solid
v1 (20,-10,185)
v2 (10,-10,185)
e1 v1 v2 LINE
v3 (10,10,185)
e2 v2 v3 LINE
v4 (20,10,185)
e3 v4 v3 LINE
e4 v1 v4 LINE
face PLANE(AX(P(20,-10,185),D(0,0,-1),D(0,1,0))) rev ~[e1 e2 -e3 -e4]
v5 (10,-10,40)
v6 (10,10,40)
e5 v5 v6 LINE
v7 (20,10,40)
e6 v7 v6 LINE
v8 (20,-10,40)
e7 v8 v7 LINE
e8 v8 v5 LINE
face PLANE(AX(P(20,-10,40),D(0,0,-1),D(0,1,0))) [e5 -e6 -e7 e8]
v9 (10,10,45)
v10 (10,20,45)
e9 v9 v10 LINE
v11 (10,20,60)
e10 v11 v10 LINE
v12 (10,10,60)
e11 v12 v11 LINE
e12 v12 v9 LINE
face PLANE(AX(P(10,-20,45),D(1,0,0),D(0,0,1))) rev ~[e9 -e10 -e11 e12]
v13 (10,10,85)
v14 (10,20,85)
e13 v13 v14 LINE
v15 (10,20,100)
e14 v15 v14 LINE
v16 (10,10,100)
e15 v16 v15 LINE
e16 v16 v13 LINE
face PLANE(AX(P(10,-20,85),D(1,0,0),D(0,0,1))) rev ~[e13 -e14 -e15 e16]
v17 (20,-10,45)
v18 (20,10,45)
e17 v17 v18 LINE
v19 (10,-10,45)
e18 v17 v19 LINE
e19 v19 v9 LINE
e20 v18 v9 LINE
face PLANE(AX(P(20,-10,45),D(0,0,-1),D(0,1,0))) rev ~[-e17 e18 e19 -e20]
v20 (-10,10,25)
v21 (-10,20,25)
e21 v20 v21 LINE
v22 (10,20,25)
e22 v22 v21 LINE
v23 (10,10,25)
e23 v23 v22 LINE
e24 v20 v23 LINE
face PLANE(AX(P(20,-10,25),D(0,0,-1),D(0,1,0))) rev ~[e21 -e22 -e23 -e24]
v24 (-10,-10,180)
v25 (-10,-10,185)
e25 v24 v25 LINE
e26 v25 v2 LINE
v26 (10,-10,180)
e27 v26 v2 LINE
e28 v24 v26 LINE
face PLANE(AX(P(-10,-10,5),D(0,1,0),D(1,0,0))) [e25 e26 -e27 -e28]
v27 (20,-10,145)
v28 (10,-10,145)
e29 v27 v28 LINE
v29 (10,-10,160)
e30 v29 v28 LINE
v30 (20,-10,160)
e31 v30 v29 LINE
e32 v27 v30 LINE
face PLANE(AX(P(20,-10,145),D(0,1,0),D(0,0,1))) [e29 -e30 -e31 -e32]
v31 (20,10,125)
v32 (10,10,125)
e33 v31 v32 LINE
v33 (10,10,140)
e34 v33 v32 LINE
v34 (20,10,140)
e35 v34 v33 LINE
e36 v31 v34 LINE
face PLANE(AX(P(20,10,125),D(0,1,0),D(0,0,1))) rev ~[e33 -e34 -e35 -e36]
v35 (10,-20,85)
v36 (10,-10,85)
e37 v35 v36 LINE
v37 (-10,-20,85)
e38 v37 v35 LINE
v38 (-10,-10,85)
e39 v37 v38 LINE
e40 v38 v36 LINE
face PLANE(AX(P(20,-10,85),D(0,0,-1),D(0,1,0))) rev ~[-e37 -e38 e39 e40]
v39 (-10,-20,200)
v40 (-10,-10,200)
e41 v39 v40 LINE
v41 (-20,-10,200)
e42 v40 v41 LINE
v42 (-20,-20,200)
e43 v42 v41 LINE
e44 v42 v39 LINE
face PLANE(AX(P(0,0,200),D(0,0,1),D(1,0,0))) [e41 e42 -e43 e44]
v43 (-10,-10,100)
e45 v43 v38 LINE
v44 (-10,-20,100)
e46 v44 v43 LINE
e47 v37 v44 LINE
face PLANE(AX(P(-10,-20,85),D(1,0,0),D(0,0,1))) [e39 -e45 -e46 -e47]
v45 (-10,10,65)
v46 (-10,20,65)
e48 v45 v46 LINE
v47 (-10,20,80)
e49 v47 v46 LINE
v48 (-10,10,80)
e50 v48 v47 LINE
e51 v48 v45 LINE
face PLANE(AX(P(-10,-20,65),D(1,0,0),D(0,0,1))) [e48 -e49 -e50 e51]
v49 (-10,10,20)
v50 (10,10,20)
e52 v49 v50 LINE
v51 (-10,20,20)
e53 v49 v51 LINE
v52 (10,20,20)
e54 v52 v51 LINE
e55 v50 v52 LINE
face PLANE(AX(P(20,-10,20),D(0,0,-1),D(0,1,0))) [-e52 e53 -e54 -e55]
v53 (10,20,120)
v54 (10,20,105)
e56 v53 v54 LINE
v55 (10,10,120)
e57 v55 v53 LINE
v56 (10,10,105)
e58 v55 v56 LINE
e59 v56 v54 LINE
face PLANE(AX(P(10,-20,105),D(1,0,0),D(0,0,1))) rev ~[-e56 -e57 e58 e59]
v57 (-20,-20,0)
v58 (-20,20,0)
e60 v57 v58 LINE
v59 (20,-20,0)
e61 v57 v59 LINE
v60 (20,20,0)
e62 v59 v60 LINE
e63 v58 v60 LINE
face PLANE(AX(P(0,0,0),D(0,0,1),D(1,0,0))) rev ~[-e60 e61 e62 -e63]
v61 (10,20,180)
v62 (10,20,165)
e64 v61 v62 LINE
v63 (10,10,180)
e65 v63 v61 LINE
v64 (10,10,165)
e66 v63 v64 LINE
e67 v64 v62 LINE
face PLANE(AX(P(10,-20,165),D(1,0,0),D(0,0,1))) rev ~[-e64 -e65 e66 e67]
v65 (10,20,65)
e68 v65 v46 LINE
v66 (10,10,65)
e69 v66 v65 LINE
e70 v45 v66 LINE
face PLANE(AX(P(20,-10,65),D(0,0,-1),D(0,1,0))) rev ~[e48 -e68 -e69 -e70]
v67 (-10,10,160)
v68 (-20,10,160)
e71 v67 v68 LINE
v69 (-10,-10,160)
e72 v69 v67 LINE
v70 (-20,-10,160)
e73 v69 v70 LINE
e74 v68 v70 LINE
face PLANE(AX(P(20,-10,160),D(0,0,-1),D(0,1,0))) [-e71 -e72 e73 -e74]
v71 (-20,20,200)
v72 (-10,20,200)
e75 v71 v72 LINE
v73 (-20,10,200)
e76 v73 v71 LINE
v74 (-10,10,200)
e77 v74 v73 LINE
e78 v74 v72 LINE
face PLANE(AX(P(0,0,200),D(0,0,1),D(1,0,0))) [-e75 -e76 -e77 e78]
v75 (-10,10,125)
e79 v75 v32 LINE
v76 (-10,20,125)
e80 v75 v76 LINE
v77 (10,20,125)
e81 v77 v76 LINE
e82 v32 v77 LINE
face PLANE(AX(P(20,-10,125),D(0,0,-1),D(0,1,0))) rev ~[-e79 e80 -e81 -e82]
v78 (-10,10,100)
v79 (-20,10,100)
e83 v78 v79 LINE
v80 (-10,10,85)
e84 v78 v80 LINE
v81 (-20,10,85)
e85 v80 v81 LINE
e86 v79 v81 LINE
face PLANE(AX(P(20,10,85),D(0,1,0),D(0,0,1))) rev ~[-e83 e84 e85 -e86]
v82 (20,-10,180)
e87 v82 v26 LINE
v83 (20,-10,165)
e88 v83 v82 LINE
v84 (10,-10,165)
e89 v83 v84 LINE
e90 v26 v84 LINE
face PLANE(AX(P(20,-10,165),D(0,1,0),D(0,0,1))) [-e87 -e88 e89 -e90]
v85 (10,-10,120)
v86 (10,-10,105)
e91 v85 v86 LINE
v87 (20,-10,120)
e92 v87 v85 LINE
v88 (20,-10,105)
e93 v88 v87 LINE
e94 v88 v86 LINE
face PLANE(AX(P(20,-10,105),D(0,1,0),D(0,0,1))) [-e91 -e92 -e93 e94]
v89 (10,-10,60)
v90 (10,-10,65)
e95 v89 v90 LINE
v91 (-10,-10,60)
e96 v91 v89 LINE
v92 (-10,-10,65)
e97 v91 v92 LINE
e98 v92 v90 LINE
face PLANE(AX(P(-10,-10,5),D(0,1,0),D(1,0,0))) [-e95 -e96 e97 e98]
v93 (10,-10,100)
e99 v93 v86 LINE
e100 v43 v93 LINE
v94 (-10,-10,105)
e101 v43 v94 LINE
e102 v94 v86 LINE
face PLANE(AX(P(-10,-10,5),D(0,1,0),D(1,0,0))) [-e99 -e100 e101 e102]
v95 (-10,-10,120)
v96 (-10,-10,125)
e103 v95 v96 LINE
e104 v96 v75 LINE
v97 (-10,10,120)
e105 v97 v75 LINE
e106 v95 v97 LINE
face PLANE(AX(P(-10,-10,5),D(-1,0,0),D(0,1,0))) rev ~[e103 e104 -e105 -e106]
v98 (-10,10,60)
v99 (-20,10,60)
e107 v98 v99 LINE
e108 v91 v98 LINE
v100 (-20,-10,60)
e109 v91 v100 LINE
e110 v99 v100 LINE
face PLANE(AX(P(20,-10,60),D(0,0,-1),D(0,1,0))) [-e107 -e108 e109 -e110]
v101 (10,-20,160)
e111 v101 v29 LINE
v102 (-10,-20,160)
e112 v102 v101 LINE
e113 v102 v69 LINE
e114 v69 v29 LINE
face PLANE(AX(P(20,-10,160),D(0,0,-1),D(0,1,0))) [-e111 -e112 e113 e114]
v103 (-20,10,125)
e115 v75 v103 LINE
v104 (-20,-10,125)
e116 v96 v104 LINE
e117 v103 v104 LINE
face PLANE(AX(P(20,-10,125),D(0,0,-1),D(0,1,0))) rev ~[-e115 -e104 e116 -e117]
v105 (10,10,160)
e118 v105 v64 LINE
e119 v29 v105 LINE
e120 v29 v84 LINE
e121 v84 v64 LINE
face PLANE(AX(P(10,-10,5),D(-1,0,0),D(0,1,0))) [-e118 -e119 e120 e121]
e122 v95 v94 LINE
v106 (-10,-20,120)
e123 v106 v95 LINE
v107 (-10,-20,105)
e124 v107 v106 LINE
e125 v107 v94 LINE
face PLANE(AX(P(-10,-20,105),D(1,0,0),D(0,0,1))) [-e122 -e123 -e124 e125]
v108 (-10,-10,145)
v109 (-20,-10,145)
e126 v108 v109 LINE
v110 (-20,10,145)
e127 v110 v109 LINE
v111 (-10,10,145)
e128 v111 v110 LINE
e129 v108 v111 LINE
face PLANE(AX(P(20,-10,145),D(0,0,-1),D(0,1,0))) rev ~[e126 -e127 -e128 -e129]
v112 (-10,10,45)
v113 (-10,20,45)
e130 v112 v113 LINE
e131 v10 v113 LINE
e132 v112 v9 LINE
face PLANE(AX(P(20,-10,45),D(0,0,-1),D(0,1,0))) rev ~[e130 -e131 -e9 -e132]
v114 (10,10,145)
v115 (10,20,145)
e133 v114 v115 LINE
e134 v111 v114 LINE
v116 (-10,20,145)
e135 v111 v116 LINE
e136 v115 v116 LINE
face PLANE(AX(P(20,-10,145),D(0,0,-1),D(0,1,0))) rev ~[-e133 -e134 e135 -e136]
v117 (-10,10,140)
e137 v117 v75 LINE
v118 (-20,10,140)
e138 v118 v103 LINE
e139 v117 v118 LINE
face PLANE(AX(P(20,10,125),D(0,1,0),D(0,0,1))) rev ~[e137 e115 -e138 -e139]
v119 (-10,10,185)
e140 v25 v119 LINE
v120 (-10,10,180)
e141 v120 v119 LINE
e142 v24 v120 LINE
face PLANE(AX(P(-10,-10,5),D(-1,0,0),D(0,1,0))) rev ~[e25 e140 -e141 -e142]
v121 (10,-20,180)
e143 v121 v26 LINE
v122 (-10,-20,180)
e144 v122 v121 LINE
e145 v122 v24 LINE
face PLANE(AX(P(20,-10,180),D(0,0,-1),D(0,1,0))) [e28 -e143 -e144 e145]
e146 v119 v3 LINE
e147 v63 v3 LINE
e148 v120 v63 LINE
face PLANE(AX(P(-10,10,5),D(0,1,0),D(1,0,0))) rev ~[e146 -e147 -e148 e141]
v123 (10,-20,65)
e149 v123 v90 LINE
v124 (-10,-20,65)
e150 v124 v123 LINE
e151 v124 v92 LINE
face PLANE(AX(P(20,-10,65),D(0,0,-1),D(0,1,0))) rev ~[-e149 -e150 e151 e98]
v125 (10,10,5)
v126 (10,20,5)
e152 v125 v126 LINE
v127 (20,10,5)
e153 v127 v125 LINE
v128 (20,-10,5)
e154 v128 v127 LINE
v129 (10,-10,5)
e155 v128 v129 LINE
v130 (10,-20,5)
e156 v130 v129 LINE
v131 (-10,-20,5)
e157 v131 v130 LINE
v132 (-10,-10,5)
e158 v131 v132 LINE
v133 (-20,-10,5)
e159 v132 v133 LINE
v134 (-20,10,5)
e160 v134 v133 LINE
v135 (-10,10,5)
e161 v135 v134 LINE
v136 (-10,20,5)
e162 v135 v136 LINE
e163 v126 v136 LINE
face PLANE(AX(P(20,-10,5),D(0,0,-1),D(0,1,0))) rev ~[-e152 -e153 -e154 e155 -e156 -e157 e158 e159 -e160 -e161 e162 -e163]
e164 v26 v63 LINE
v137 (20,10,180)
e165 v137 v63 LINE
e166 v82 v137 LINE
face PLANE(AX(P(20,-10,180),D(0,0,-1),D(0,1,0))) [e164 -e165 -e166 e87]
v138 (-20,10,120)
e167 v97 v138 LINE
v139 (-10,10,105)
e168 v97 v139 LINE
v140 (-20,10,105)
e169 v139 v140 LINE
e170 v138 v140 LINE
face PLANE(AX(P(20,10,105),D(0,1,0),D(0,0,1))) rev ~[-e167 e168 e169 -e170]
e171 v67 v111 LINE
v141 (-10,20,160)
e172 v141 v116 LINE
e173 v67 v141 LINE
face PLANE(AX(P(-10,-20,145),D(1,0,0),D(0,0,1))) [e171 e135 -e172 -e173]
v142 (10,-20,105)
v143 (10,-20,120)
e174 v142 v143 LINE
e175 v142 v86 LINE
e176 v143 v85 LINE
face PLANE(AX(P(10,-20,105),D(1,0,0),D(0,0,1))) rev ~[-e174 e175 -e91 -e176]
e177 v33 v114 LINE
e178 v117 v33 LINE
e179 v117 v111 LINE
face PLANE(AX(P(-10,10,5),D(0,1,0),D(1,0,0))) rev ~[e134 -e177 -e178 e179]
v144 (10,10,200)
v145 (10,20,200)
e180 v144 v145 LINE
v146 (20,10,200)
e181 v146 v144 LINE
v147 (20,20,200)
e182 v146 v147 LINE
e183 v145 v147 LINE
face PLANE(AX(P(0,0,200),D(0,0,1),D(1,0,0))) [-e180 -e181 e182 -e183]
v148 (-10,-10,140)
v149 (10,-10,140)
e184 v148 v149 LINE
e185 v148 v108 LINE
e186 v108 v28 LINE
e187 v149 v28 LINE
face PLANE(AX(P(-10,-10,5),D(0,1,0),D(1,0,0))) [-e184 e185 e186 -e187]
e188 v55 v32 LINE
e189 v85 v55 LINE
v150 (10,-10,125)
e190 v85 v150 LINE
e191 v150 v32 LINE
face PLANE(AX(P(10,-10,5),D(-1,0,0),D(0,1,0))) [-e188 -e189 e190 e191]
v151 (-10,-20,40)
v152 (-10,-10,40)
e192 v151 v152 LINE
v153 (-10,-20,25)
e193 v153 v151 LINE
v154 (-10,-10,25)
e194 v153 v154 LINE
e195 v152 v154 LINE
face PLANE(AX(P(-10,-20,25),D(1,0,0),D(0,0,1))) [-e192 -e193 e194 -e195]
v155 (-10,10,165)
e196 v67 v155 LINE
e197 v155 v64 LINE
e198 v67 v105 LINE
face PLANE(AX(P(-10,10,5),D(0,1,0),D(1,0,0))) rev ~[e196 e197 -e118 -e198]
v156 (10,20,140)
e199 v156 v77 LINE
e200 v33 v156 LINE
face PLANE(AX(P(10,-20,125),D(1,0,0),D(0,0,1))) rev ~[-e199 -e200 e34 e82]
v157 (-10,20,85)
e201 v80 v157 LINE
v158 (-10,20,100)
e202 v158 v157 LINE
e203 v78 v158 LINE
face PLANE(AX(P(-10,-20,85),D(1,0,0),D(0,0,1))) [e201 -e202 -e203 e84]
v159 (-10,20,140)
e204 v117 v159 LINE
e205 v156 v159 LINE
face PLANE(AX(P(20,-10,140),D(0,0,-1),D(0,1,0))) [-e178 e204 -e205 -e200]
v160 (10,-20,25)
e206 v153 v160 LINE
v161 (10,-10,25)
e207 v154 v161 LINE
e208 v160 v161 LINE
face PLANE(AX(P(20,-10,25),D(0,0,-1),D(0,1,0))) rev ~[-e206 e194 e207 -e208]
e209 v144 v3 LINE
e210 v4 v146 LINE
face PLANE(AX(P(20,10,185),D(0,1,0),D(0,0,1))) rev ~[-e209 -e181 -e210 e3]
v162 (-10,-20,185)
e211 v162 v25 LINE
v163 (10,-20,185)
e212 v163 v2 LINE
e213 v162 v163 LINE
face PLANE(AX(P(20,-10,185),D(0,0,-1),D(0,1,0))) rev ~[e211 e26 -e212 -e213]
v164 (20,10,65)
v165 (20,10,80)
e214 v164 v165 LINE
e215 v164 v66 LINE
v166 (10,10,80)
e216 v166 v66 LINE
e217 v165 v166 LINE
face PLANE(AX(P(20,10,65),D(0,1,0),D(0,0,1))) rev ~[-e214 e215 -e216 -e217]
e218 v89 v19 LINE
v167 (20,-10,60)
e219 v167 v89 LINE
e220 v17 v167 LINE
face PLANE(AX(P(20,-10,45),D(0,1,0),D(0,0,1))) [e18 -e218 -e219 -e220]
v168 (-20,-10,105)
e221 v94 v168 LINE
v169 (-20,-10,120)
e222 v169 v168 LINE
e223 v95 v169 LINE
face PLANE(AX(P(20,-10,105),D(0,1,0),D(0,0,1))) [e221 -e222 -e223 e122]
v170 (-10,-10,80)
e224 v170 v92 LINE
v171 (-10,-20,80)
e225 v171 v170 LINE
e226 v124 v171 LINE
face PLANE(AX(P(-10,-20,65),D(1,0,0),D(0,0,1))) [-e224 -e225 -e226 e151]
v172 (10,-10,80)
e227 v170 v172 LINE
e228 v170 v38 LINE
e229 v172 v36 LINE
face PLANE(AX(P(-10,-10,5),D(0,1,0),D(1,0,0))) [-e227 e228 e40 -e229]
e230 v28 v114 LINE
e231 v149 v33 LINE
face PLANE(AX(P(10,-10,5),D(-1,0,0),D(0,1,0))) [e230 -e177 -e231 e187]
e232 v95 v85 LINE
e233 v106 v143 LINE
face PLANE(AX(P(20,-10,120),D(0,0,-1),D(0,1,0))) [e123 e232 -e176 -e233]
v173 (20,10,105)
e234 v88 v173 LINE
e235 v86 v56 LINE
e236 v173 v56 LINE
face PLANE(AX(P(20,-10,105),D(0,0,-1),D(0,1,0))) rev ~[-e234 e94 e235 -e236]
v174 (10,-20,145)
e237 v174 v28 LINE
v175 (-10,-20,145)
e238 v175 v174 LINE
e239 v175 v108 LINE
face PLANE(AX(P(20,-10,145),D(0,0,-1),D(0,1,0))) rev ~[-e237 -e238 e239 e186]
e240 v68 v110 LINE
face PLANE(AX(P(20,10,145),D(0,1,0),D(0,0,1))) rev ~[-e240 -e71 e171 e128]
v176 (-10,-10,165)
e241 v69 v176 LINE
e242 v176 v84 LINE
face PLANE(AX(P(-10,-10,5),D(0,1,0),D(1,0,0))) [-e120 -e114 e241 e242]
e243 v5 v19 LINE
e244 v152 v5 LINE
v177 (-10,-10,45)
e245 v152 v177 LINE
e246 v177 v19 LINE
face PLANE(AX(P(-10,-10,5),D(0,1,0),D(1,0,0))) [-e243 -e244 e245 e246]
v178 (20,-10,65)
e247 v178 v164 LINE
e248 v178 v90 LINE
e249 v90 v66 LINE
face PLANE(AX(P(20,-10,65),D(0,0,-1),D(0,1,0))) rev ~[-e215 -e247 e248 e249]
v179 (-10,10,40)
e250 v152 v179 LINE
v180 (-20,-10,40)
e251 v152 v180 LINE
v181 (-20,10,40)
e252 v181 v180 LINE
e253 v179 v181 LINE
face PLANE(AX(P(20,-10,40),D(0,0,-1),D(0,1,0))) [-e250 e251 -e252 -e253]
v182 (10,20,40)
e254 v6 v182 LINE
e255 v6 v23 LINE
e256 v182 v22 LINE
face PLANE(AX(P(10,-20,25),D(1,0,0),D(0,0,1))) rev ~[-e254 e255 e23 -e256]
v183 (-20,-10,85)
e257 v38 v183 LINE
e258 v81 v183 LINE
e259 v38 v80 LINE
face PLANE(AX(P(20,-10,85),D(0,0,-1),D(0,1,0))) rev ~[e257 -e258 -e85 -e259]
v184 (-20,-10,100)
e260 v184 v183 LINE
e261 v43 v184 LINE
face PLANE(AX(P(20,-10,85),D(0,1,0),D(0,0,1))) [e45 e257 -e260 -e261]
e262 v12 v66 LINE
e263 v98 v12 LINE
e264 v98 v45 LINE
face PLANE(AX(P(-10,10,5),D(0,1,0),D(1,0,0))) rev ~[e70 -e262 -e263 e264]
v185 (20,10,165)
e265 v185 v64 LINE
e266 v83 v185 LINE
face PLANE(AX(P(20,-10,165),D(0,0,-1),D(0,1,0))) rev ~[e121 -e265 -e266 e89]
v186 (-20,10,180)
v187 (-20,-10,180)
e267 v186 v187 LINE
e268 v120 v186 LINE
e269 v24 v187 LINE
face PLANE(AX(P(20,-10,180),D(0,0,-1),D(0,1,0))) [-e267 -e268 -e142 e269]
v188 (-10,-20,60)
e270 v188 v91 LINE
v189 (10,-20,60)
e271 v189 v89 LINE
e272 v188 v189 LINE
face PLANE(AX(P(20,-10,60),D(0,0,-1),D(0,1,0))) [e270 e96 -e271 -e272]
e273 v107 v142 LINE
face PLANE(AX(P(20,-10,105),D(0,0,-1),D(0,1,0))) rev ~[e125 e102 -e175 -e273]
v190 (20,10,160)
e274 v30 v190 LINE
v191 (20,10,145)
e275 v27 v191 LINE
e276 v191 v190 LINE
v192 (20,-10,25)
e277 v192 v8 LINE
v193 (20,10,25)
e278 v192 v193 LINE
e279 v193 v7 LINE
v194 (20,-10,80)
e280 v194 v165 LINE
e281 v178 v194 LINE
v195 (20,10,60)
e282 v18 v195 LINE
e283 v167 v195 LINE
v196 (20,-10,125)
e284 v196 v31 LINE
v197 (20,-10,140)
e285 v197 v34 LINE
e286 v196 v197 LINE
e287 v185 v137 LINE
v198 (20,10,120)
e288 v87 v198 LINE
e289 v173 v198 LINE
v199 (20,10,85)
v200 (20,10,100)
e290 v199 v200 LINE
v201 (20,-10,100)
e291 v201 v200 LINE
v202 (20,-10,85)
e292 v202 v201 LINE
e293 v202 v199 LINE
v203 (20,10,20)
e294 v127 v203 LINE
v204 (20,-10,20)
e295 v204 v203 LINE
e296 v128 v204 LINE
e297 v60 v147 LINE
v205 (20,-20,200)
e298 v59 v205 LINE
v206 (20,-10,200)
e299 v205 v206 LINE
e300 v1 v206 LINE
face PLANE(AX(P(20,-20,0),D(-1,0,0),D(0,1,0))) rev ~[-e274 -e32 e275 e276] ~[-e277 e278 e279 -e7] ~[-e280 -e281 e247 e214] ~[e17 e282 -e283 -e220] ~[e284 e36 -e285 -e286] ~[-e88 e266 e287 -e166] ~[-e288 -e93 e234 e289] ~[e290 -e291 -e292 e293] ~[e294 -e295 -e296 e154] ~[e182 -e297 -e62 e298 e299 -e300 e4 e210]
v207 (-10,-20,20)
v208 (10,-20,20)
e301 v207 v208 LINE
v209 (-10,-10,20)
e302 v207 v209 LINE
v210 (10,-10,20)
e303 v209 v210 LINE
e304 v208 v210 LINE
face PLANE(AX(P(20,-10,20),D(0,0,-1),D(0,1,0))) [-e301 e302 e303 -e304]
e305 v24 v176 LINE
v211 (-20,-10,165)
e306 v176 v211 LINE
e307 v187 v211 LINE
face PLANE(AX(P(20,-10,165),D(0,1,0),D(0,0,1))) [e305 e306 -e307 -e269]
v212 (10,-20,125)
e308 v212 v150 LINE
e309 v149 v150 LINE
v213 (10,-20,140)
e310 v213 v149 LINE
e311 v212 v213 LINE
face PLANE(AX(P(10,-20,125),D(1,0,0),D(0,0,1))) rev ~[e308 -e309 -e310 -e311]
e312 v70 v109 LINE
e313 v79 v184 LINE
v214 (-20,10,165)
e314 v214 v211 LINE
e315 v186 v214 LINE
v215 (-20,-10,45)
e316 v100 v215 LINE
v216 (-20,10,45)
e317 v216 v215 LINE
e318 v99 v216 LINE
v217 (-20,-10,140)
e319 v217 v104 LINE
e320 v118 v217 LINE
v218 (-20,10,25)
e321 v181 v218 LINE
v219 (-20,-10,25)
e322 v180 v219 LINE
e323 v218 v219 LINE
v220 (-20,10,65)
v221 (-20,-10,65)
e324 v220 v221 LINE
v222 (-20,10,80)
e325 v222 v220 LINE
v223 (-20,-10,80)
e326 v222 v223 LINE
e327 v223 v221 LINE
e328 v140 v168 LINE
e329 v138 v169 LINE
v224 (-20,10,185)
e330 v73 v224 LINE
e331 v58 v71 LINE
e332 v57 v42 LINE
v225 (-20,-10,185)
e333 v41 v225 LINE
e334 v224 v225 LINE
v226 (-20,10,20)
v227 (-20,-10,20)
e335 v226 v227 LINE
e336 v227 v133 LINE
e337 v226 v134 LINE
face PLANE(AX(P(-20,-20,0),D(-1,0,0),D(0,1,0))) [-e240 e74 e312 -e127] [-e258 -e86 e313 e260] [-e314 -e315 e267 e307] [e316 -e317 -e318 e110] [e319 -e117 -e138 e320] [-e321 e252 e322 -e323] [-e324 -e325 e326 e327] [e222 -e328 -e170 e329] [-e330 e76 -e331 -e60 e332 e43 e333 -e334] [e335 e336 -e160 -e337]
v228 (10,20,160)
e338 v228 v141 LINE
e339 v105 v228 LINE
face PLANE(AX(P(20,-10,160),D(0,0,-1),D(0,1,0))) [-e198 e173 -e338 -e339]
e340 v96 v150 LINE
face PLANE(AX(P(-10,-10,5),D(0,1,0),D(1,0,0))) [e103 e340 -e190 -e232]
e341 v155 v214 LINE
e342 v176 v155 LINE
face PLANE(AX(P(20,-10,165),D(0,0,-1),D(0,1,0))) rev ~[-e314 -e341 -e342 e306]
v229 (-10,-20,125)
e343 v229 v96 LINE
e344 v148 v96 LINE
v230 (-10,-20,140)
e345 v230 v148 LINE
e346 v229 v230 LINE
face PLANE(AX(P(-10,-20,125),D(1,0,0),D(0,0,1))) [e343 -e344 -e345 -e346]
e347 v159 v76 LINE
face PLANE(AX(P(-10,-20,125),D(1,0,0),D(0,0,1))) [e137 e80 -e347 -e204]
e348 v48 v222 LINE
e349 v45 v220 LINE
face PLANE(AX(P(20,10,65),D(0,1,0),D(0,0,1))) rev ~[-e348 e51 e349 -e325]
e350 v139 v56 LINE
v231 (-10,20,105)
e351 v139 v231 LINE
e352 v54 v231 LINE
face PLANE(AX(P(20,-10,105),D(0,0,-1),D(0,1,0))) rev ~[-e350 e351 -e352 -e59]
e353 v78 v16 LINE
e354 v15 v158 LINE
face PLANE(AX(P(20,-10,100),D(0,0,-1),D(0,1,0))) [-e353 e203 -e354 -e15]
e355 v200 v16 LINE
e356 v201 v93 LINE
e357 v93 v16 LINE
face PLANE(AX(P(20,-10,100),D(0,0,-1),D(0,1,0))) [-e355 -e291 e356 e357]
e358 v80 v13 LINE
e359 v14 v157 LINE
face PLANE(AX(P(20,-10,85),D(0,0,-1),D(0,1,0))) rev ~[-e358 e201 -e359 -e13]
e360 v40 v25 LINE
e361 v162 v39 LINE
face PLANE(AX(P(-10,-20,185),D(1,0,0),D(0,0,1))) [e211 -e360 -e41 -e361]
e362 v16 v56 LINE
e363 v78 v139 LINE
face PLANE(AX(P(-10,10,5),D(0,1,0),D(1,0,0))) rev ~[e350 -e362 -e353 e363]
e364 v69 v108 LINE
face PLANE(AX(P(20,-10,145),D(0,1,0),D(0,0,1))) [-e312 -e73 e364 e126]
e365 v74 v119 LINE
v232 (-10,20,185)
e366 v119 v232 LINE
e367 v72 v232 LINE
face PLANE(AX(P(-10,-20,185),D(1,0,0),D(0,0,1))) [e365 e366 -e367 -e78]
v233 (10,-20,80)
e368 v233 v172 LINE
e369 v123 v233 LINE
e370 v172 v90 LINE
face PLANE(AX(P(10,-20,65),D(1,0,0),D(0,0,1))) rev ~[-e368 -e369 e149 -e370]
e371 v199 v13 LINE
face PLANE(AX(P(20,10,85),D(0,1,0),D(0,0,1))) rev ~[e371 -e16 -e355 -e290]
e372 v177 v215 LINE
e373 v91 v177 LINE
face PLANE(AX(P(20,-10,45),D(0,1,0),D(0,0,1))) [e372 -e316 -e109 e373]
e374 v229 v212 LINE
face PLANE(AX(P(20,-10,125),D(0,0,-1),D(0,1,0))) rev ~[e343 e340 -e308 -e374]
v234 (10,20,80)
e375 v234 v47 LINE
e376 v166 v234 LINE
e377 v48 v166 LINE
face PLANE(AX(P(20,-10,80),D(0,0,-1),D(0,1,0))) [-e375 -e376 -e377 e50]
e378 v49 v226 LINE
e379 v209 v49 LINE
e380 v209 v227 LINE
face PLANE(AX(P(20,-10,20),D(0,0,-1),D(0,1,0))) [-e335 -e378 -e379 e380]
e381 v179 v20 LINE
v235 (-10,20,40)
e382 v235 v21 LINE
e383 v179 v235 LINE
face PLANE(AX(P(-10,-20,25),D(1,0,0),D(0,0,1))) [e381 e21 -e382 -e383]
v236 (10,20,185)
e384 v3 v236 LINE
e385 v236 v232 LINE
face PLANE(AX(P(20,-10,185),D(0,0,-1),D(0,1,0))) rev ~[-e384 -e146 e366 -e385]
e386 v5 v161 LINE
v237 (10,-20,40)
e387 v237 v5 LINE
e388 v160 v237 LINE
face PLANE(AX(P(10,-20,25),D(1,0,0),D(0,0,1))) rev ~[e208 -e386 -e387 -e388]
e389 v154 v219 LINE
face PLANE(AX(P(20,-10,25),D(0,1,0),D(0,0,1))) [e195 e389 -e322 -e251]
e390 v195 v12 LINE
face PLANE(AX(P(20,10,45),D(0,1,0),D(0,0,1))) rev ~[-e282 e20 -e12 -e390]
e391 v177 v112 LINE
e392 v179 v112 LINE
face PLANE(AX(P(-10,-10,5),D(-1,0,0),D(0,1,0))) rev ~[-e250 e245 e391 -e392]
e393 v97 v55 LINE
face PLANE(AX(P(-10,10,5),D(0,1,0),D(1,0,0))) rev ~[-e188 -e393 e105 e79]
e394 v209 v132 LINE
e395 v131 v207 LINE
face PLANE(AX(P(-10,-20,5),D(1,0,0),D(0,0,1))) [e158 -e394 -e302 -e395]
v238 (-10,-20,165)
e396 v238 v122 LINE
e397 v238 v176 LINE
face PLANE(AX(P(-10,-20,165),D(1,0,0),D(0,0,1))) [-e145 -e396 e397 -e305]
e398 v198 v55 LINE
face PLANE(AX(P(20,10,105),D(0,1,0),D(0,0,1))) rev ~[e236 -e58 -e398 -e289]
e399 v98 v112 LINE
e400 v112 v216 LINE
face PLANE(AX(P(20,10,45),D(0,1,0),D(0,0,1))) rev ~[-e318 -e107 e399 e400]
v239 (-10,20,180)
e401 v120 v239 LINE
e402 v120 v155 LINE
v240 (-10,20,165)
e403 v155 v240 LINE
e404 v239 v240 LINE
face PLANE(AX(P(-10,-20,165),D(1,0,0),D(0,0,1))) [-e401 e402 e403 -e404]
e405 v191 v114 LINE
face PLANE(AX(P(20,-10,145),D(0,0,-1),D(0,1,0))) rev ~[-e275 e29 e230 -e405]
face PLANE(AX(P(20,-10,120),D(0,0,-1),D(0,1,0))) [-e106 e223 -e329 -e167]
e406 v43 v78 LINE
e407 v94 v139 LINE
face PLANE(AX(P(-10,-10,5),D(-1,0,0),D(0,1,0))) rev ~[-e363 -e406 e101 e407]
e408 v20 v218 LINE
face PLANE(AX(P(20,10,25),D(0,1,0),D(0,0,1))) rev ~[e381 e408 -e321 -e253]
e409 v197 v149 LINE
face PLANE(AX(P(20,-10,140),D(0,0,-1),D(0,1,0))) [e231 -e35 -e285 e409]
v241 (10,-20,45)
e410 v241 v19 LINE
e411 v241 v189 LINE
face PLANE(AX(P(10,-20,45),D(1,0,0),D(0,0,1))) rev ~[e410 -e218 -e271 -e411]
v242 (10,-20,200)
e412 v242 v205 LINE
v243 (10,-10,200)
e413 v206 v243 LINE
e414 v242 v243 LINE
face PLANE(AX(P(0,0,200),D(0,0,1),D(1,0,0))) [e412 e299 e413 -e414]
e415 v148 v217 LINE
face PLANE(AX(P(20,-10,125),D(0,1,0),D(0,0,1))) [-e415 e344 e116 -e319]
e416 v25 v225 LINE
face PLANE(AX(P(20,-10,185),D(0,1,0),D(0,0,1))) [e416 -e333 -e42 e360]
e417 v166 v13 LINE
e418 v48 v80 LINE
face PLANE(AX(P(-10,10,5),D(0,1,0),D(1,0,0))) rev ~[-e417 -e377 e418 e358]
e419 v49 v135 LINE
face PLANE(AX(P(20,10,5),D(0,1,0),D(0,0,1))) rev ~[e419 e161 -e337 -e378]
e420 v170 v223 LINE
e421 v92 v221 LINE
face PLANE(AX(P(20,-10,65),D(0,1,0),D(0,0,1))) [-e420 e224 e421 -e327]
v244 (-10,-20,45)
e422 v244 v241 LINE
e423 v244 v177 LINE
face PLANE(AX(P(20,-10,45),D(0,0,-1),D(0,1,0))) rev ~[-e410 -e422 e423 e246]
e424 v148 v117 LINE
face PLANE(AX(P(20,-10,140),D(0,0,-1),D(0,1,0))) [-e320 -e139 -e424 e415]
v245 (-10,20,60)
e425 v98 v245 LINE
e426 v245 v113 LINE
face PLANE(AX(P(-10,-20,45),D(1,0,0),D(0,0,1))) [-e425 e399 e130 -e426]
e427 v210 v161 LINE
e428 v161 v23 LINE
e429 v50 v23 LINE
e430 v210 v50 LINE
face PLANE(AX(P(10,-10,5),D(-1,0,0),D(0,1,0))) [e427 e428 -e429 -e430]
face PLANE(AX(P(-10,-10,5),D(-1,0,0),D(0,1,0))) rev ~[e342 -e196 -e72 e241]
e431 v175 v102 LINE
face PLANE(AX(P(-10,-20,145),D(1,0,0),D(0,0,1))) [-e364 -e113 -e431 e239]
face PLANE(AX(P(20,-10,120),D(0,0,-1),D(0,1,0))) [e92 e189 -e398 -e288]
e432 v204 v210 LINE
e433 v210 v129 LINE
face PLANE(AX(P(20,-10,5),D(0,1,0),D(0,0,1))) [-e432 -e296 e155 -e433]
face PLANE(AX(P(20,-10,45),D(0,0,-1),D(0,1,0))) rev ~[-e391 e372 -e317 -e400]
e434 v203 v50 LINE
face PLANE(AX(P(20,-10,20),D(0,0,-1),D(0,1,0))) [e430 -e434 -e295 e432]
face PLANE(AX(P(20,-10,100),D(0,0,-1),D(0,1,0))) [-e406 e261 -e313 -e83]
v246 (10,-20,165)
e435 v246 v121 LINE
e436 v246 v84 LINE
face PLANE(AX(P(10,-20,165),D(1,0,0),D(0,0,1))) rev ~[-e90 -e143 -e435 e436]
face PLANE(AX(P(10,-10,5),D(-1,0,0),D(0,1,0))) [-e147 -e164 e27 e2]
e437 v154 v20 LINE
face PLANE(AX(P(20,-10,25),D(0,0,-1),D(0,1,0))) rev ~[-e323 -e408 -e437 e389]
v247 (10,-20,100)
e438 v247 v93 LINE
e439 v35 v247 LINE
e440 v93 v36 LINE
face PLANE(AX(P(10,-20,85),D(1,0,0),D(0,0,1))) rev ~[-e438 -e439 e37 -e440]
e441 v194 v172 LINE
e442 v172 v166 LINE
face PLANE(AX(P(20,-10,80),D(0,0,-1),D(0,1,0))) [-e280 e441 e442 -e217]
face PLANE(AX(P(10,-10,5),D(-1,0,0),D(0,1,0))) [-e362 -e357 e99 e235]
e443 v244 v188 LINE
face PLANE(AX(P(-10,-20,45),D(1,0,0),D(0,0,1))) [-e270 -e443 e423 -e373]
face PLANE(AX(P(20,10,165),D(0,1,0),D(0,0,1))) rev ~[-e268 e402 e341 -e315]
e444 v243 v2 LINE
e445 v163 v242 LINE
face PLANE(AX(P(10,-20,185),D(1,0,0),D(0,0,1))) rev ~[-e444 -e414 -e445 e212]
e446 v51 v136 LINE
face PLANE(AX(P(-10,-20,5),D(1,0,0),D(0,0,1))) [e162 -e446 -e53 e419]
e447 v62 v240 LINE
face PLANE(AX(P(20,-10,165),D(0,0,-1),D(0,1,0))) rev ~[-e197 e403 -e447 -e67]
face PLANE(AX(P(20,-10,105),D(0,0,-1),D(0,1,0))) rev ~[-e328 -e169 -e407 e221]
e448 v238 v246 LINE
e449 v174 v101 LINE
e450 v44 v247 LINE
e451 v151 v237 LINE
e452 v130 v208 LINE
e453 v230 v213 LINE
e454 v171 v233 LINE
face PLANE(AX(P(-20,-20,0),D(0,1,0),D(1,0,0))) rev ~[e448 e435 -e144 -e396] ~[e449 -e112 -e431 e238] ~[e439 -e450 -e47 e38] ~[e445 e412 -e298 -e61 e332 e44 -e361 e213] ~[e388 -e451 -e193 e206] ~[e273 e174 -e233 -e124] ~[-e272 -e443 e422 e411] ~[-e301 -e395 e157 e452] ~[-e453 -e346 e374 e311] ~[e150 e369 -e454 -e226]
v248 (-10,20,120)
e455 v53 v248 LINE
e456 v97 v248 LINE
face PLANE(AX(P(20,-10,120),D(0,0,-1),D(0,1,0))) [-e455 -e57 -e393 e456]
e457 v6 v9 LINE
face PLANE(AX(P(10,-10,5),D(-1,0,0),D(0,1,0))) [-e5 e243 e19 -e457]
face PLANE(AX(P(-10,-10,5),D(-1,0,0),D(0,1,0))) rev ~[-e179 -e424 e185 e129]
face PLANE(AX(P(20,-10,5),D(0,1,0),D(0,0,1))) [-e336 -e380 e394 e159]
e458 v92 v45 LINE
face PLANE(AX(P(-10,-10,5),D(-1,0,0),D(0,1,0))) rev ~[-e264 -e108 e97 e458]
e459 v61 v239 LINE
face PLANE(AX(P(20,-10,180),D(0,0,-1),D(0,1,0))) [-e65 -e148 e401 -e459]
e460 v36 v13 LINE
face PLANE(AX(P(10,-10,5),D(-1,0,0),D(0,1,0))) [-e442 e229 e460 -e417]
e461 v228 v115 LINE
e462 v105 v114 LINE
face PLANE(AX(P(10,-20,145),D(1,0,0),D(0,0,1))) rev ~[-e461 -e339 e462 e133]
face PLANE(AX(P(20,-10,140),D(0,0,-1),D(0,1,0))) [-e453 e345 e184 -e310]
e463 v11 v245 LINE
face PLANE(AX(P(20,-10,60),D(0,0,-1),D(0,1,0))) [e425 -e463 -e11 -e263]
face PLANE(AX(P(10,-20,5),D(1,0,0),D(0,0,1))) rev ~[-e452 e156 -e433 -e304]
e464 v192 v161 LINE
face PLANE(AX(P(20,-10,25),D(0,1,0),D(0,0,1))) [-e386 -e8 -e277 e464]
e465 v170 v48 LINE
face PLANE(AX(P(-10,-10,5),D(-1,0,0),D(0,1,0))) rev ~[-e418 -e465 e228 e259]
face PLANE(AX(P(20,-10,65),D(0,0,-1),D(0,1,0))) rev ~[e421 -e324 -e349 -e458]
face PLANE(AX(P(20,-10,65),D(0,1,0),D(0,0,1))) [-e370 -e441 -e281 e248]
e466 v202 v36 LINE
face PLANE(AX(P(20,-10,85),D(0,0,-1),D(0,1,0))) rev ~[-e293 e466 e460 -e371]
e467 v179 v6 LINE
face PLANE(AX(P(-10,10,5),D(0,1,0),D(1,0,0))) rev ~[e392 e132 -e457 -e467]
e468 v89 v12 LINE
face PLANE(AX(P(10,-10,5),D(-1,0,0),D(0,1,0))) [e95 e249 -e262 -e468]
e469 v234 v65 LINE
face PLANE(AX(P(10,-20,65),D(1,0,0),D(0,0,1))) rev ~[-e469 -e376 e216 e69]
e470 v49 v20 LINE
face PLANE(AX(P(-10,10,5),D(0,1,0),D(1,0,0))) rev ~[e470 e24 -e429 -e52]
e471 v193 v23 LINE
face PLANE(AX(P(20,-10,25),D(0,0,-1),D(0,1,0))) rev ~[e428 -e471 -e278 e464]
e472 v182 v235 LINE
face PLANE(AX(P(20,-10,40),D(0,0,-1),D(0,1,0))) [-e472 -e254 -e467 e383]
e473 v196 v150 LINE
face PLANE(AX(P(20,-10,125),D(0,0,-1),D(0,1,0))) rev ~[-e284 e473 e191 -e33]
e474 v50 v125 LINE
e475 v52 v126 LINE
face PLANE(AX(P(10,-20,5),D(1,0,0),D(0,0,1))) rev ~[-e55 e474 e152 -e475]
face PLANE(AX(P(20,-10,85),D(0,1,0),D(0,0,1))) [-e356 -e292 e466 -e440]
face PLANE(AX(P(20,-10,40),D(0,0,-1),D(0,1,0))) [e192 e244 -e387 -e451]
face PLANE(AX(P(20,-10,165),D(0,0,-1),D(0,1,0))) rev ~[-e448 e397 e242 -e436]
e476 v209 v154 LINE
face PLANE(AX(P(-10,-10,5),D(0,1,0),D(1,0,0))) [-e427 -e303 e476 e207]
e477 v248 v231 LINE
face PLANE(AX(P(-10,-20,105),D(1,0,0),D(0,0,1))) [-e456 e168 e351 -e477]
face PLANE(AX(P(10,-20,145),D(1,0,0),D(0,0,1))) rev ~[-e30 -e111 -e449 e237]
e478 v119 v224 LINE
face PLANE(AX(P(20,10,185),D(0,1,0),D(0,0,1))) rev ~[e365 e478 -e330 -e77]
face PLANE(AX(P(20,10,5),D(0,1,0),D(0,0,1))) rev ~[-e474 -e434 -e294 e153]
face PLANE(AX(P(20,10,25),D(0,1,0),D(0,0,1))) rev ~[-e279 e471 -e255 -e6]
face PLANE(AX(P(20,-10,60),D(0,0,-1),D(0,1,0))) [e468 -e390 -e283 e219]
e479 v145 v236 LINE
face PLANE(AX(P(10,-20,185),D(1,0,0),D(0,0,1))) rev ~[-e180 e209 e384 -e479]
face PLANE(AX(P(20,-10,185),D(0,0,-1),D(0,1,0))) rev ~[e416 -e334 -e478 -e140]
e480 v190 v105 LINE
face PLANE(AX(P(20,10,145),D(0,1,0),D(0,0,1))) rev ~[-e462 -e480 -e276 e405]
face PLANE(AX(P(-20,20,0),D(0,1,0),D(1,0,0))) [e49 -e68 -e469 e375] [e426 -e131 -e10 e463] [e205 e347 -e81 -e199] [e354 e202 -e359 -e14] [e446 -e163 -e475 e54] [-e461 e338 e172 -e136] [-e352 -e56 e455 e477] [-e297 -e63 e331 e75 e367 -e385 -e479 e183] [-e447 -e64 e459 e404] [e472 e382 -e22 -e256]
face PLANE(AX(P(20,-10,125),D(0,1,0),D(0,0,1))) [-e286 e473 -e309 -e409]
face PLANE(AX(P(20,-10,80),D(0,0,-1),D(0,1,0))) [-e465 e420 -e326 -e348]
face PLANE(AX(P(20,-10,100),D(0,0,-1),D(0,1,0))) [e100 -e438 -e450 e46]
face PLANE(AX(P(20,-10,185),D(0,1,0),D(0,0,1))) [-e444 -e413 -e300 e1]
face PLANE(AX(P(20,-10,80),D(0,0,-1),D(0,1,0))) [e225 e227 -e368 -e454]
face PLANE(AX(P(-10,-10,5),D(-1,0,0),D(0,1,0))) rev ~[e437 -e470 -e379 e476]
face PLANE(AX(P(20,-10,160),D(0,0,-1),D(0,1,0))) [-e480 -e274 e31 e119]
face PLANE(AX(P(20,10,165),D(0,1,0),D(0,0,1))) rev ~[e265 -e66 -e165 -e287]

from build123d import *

# Parameters (mm, degrees)
F0_W     = 40
F0_H     = 40
F1_DEPTH = 200
F2_W     = 20
F2_H     = 15
F3_DEPTH = 40.001
F4_W     = 20
F4_H     = 15
F5_DEPTH = 40.001
F6_W     = 20
F6_H     = 20
F7_DEPTH = 195.001


with BuildPart() as f1:
    # F0 (on Top) → F1 (new body)
    with BuildSketch(Plane.XY):
        Rectangle(F0_W, F0_H)
    extrude(amount=F1_DEPTH)

    # F2 (on face) → F3 (cut, through all)
    with BuildSketch(Plane.YZ.offset(20)):
        with Locations((0, 12.5)):
            Rectangle(F2_W, F2_H)
        with Locations((0, 32.5)):
            Rectangle(F2_W, F2_H)
        with Locations((0, 52.5)):
            Rectangle(F2_W, F2_H)
        with Locations((0, 72.5)):
            Rectangle(F2_W, F2_H)
        with Locations((0, 92.5)):
            Rectangle(F2_W, F2_H)
        with Locations((0, 112.5)):
            Rectangle(F2_W, F2_H)
        with Locations((0, 132.5)):
            Rectangle(F2_W, F2_H)
        with Locations((0, 152.5)):
            Rectangle(F2_W, F2_H)
        with Locations((0, 172.5)):
            Rectangle(F2_W, F2_H)
        with Locations((0, 192.5)):
            Rectangle(F2_W, F2_H)
    extrude(amount=-F3_DEPTH, mode=Mode.SUBTRACT)

    # F4 (on face) → F5 (cut, through all)
    with BuildSketch(Plane.XZ.offset(20)):
        with Locations((0, 12.5)):
            Rectangle(F4_W, F4_H)
        with Locations((0, 32.5)):
            Rectangle(F4_W, F4_H)
        with Locations((0, 52.5)):
            Rectangle(F4_W, F4_H)
        with Locations((0, 72.5)):
            Rectangle(F4_W, F4_H)
        with Locations((0, 92.5)):
            Rectangle(F4_W, F4_H)
        with Locations((0, 112.5)):
            Rectangle(F4_W, F4_H)
        with Locations((0, 132.5)):
            Rectangle(F4_W, F4_H)
        with Locations((0, 152.5)):
            Rectangle(F4_W, F4_H)
        with Locations((0, 172.5)):
            Rectangle(F4_W, F4_H)
        with Locations((0, 192.5)):
            Rectangle(F4_W, F4_H)
    extrude(amount=-F5_DEPTH, mode=Mode.SUBTRACT)

    # F6 (on face) → F7 (cut, through all)
    with BuildSketch(Plane.XY.offset(5)):
        Rectangle(F6_W, F6_H)
    extrude(amount=F7_DEPTH, mode=Mode.SUBTRACT)


solid = f1.part
